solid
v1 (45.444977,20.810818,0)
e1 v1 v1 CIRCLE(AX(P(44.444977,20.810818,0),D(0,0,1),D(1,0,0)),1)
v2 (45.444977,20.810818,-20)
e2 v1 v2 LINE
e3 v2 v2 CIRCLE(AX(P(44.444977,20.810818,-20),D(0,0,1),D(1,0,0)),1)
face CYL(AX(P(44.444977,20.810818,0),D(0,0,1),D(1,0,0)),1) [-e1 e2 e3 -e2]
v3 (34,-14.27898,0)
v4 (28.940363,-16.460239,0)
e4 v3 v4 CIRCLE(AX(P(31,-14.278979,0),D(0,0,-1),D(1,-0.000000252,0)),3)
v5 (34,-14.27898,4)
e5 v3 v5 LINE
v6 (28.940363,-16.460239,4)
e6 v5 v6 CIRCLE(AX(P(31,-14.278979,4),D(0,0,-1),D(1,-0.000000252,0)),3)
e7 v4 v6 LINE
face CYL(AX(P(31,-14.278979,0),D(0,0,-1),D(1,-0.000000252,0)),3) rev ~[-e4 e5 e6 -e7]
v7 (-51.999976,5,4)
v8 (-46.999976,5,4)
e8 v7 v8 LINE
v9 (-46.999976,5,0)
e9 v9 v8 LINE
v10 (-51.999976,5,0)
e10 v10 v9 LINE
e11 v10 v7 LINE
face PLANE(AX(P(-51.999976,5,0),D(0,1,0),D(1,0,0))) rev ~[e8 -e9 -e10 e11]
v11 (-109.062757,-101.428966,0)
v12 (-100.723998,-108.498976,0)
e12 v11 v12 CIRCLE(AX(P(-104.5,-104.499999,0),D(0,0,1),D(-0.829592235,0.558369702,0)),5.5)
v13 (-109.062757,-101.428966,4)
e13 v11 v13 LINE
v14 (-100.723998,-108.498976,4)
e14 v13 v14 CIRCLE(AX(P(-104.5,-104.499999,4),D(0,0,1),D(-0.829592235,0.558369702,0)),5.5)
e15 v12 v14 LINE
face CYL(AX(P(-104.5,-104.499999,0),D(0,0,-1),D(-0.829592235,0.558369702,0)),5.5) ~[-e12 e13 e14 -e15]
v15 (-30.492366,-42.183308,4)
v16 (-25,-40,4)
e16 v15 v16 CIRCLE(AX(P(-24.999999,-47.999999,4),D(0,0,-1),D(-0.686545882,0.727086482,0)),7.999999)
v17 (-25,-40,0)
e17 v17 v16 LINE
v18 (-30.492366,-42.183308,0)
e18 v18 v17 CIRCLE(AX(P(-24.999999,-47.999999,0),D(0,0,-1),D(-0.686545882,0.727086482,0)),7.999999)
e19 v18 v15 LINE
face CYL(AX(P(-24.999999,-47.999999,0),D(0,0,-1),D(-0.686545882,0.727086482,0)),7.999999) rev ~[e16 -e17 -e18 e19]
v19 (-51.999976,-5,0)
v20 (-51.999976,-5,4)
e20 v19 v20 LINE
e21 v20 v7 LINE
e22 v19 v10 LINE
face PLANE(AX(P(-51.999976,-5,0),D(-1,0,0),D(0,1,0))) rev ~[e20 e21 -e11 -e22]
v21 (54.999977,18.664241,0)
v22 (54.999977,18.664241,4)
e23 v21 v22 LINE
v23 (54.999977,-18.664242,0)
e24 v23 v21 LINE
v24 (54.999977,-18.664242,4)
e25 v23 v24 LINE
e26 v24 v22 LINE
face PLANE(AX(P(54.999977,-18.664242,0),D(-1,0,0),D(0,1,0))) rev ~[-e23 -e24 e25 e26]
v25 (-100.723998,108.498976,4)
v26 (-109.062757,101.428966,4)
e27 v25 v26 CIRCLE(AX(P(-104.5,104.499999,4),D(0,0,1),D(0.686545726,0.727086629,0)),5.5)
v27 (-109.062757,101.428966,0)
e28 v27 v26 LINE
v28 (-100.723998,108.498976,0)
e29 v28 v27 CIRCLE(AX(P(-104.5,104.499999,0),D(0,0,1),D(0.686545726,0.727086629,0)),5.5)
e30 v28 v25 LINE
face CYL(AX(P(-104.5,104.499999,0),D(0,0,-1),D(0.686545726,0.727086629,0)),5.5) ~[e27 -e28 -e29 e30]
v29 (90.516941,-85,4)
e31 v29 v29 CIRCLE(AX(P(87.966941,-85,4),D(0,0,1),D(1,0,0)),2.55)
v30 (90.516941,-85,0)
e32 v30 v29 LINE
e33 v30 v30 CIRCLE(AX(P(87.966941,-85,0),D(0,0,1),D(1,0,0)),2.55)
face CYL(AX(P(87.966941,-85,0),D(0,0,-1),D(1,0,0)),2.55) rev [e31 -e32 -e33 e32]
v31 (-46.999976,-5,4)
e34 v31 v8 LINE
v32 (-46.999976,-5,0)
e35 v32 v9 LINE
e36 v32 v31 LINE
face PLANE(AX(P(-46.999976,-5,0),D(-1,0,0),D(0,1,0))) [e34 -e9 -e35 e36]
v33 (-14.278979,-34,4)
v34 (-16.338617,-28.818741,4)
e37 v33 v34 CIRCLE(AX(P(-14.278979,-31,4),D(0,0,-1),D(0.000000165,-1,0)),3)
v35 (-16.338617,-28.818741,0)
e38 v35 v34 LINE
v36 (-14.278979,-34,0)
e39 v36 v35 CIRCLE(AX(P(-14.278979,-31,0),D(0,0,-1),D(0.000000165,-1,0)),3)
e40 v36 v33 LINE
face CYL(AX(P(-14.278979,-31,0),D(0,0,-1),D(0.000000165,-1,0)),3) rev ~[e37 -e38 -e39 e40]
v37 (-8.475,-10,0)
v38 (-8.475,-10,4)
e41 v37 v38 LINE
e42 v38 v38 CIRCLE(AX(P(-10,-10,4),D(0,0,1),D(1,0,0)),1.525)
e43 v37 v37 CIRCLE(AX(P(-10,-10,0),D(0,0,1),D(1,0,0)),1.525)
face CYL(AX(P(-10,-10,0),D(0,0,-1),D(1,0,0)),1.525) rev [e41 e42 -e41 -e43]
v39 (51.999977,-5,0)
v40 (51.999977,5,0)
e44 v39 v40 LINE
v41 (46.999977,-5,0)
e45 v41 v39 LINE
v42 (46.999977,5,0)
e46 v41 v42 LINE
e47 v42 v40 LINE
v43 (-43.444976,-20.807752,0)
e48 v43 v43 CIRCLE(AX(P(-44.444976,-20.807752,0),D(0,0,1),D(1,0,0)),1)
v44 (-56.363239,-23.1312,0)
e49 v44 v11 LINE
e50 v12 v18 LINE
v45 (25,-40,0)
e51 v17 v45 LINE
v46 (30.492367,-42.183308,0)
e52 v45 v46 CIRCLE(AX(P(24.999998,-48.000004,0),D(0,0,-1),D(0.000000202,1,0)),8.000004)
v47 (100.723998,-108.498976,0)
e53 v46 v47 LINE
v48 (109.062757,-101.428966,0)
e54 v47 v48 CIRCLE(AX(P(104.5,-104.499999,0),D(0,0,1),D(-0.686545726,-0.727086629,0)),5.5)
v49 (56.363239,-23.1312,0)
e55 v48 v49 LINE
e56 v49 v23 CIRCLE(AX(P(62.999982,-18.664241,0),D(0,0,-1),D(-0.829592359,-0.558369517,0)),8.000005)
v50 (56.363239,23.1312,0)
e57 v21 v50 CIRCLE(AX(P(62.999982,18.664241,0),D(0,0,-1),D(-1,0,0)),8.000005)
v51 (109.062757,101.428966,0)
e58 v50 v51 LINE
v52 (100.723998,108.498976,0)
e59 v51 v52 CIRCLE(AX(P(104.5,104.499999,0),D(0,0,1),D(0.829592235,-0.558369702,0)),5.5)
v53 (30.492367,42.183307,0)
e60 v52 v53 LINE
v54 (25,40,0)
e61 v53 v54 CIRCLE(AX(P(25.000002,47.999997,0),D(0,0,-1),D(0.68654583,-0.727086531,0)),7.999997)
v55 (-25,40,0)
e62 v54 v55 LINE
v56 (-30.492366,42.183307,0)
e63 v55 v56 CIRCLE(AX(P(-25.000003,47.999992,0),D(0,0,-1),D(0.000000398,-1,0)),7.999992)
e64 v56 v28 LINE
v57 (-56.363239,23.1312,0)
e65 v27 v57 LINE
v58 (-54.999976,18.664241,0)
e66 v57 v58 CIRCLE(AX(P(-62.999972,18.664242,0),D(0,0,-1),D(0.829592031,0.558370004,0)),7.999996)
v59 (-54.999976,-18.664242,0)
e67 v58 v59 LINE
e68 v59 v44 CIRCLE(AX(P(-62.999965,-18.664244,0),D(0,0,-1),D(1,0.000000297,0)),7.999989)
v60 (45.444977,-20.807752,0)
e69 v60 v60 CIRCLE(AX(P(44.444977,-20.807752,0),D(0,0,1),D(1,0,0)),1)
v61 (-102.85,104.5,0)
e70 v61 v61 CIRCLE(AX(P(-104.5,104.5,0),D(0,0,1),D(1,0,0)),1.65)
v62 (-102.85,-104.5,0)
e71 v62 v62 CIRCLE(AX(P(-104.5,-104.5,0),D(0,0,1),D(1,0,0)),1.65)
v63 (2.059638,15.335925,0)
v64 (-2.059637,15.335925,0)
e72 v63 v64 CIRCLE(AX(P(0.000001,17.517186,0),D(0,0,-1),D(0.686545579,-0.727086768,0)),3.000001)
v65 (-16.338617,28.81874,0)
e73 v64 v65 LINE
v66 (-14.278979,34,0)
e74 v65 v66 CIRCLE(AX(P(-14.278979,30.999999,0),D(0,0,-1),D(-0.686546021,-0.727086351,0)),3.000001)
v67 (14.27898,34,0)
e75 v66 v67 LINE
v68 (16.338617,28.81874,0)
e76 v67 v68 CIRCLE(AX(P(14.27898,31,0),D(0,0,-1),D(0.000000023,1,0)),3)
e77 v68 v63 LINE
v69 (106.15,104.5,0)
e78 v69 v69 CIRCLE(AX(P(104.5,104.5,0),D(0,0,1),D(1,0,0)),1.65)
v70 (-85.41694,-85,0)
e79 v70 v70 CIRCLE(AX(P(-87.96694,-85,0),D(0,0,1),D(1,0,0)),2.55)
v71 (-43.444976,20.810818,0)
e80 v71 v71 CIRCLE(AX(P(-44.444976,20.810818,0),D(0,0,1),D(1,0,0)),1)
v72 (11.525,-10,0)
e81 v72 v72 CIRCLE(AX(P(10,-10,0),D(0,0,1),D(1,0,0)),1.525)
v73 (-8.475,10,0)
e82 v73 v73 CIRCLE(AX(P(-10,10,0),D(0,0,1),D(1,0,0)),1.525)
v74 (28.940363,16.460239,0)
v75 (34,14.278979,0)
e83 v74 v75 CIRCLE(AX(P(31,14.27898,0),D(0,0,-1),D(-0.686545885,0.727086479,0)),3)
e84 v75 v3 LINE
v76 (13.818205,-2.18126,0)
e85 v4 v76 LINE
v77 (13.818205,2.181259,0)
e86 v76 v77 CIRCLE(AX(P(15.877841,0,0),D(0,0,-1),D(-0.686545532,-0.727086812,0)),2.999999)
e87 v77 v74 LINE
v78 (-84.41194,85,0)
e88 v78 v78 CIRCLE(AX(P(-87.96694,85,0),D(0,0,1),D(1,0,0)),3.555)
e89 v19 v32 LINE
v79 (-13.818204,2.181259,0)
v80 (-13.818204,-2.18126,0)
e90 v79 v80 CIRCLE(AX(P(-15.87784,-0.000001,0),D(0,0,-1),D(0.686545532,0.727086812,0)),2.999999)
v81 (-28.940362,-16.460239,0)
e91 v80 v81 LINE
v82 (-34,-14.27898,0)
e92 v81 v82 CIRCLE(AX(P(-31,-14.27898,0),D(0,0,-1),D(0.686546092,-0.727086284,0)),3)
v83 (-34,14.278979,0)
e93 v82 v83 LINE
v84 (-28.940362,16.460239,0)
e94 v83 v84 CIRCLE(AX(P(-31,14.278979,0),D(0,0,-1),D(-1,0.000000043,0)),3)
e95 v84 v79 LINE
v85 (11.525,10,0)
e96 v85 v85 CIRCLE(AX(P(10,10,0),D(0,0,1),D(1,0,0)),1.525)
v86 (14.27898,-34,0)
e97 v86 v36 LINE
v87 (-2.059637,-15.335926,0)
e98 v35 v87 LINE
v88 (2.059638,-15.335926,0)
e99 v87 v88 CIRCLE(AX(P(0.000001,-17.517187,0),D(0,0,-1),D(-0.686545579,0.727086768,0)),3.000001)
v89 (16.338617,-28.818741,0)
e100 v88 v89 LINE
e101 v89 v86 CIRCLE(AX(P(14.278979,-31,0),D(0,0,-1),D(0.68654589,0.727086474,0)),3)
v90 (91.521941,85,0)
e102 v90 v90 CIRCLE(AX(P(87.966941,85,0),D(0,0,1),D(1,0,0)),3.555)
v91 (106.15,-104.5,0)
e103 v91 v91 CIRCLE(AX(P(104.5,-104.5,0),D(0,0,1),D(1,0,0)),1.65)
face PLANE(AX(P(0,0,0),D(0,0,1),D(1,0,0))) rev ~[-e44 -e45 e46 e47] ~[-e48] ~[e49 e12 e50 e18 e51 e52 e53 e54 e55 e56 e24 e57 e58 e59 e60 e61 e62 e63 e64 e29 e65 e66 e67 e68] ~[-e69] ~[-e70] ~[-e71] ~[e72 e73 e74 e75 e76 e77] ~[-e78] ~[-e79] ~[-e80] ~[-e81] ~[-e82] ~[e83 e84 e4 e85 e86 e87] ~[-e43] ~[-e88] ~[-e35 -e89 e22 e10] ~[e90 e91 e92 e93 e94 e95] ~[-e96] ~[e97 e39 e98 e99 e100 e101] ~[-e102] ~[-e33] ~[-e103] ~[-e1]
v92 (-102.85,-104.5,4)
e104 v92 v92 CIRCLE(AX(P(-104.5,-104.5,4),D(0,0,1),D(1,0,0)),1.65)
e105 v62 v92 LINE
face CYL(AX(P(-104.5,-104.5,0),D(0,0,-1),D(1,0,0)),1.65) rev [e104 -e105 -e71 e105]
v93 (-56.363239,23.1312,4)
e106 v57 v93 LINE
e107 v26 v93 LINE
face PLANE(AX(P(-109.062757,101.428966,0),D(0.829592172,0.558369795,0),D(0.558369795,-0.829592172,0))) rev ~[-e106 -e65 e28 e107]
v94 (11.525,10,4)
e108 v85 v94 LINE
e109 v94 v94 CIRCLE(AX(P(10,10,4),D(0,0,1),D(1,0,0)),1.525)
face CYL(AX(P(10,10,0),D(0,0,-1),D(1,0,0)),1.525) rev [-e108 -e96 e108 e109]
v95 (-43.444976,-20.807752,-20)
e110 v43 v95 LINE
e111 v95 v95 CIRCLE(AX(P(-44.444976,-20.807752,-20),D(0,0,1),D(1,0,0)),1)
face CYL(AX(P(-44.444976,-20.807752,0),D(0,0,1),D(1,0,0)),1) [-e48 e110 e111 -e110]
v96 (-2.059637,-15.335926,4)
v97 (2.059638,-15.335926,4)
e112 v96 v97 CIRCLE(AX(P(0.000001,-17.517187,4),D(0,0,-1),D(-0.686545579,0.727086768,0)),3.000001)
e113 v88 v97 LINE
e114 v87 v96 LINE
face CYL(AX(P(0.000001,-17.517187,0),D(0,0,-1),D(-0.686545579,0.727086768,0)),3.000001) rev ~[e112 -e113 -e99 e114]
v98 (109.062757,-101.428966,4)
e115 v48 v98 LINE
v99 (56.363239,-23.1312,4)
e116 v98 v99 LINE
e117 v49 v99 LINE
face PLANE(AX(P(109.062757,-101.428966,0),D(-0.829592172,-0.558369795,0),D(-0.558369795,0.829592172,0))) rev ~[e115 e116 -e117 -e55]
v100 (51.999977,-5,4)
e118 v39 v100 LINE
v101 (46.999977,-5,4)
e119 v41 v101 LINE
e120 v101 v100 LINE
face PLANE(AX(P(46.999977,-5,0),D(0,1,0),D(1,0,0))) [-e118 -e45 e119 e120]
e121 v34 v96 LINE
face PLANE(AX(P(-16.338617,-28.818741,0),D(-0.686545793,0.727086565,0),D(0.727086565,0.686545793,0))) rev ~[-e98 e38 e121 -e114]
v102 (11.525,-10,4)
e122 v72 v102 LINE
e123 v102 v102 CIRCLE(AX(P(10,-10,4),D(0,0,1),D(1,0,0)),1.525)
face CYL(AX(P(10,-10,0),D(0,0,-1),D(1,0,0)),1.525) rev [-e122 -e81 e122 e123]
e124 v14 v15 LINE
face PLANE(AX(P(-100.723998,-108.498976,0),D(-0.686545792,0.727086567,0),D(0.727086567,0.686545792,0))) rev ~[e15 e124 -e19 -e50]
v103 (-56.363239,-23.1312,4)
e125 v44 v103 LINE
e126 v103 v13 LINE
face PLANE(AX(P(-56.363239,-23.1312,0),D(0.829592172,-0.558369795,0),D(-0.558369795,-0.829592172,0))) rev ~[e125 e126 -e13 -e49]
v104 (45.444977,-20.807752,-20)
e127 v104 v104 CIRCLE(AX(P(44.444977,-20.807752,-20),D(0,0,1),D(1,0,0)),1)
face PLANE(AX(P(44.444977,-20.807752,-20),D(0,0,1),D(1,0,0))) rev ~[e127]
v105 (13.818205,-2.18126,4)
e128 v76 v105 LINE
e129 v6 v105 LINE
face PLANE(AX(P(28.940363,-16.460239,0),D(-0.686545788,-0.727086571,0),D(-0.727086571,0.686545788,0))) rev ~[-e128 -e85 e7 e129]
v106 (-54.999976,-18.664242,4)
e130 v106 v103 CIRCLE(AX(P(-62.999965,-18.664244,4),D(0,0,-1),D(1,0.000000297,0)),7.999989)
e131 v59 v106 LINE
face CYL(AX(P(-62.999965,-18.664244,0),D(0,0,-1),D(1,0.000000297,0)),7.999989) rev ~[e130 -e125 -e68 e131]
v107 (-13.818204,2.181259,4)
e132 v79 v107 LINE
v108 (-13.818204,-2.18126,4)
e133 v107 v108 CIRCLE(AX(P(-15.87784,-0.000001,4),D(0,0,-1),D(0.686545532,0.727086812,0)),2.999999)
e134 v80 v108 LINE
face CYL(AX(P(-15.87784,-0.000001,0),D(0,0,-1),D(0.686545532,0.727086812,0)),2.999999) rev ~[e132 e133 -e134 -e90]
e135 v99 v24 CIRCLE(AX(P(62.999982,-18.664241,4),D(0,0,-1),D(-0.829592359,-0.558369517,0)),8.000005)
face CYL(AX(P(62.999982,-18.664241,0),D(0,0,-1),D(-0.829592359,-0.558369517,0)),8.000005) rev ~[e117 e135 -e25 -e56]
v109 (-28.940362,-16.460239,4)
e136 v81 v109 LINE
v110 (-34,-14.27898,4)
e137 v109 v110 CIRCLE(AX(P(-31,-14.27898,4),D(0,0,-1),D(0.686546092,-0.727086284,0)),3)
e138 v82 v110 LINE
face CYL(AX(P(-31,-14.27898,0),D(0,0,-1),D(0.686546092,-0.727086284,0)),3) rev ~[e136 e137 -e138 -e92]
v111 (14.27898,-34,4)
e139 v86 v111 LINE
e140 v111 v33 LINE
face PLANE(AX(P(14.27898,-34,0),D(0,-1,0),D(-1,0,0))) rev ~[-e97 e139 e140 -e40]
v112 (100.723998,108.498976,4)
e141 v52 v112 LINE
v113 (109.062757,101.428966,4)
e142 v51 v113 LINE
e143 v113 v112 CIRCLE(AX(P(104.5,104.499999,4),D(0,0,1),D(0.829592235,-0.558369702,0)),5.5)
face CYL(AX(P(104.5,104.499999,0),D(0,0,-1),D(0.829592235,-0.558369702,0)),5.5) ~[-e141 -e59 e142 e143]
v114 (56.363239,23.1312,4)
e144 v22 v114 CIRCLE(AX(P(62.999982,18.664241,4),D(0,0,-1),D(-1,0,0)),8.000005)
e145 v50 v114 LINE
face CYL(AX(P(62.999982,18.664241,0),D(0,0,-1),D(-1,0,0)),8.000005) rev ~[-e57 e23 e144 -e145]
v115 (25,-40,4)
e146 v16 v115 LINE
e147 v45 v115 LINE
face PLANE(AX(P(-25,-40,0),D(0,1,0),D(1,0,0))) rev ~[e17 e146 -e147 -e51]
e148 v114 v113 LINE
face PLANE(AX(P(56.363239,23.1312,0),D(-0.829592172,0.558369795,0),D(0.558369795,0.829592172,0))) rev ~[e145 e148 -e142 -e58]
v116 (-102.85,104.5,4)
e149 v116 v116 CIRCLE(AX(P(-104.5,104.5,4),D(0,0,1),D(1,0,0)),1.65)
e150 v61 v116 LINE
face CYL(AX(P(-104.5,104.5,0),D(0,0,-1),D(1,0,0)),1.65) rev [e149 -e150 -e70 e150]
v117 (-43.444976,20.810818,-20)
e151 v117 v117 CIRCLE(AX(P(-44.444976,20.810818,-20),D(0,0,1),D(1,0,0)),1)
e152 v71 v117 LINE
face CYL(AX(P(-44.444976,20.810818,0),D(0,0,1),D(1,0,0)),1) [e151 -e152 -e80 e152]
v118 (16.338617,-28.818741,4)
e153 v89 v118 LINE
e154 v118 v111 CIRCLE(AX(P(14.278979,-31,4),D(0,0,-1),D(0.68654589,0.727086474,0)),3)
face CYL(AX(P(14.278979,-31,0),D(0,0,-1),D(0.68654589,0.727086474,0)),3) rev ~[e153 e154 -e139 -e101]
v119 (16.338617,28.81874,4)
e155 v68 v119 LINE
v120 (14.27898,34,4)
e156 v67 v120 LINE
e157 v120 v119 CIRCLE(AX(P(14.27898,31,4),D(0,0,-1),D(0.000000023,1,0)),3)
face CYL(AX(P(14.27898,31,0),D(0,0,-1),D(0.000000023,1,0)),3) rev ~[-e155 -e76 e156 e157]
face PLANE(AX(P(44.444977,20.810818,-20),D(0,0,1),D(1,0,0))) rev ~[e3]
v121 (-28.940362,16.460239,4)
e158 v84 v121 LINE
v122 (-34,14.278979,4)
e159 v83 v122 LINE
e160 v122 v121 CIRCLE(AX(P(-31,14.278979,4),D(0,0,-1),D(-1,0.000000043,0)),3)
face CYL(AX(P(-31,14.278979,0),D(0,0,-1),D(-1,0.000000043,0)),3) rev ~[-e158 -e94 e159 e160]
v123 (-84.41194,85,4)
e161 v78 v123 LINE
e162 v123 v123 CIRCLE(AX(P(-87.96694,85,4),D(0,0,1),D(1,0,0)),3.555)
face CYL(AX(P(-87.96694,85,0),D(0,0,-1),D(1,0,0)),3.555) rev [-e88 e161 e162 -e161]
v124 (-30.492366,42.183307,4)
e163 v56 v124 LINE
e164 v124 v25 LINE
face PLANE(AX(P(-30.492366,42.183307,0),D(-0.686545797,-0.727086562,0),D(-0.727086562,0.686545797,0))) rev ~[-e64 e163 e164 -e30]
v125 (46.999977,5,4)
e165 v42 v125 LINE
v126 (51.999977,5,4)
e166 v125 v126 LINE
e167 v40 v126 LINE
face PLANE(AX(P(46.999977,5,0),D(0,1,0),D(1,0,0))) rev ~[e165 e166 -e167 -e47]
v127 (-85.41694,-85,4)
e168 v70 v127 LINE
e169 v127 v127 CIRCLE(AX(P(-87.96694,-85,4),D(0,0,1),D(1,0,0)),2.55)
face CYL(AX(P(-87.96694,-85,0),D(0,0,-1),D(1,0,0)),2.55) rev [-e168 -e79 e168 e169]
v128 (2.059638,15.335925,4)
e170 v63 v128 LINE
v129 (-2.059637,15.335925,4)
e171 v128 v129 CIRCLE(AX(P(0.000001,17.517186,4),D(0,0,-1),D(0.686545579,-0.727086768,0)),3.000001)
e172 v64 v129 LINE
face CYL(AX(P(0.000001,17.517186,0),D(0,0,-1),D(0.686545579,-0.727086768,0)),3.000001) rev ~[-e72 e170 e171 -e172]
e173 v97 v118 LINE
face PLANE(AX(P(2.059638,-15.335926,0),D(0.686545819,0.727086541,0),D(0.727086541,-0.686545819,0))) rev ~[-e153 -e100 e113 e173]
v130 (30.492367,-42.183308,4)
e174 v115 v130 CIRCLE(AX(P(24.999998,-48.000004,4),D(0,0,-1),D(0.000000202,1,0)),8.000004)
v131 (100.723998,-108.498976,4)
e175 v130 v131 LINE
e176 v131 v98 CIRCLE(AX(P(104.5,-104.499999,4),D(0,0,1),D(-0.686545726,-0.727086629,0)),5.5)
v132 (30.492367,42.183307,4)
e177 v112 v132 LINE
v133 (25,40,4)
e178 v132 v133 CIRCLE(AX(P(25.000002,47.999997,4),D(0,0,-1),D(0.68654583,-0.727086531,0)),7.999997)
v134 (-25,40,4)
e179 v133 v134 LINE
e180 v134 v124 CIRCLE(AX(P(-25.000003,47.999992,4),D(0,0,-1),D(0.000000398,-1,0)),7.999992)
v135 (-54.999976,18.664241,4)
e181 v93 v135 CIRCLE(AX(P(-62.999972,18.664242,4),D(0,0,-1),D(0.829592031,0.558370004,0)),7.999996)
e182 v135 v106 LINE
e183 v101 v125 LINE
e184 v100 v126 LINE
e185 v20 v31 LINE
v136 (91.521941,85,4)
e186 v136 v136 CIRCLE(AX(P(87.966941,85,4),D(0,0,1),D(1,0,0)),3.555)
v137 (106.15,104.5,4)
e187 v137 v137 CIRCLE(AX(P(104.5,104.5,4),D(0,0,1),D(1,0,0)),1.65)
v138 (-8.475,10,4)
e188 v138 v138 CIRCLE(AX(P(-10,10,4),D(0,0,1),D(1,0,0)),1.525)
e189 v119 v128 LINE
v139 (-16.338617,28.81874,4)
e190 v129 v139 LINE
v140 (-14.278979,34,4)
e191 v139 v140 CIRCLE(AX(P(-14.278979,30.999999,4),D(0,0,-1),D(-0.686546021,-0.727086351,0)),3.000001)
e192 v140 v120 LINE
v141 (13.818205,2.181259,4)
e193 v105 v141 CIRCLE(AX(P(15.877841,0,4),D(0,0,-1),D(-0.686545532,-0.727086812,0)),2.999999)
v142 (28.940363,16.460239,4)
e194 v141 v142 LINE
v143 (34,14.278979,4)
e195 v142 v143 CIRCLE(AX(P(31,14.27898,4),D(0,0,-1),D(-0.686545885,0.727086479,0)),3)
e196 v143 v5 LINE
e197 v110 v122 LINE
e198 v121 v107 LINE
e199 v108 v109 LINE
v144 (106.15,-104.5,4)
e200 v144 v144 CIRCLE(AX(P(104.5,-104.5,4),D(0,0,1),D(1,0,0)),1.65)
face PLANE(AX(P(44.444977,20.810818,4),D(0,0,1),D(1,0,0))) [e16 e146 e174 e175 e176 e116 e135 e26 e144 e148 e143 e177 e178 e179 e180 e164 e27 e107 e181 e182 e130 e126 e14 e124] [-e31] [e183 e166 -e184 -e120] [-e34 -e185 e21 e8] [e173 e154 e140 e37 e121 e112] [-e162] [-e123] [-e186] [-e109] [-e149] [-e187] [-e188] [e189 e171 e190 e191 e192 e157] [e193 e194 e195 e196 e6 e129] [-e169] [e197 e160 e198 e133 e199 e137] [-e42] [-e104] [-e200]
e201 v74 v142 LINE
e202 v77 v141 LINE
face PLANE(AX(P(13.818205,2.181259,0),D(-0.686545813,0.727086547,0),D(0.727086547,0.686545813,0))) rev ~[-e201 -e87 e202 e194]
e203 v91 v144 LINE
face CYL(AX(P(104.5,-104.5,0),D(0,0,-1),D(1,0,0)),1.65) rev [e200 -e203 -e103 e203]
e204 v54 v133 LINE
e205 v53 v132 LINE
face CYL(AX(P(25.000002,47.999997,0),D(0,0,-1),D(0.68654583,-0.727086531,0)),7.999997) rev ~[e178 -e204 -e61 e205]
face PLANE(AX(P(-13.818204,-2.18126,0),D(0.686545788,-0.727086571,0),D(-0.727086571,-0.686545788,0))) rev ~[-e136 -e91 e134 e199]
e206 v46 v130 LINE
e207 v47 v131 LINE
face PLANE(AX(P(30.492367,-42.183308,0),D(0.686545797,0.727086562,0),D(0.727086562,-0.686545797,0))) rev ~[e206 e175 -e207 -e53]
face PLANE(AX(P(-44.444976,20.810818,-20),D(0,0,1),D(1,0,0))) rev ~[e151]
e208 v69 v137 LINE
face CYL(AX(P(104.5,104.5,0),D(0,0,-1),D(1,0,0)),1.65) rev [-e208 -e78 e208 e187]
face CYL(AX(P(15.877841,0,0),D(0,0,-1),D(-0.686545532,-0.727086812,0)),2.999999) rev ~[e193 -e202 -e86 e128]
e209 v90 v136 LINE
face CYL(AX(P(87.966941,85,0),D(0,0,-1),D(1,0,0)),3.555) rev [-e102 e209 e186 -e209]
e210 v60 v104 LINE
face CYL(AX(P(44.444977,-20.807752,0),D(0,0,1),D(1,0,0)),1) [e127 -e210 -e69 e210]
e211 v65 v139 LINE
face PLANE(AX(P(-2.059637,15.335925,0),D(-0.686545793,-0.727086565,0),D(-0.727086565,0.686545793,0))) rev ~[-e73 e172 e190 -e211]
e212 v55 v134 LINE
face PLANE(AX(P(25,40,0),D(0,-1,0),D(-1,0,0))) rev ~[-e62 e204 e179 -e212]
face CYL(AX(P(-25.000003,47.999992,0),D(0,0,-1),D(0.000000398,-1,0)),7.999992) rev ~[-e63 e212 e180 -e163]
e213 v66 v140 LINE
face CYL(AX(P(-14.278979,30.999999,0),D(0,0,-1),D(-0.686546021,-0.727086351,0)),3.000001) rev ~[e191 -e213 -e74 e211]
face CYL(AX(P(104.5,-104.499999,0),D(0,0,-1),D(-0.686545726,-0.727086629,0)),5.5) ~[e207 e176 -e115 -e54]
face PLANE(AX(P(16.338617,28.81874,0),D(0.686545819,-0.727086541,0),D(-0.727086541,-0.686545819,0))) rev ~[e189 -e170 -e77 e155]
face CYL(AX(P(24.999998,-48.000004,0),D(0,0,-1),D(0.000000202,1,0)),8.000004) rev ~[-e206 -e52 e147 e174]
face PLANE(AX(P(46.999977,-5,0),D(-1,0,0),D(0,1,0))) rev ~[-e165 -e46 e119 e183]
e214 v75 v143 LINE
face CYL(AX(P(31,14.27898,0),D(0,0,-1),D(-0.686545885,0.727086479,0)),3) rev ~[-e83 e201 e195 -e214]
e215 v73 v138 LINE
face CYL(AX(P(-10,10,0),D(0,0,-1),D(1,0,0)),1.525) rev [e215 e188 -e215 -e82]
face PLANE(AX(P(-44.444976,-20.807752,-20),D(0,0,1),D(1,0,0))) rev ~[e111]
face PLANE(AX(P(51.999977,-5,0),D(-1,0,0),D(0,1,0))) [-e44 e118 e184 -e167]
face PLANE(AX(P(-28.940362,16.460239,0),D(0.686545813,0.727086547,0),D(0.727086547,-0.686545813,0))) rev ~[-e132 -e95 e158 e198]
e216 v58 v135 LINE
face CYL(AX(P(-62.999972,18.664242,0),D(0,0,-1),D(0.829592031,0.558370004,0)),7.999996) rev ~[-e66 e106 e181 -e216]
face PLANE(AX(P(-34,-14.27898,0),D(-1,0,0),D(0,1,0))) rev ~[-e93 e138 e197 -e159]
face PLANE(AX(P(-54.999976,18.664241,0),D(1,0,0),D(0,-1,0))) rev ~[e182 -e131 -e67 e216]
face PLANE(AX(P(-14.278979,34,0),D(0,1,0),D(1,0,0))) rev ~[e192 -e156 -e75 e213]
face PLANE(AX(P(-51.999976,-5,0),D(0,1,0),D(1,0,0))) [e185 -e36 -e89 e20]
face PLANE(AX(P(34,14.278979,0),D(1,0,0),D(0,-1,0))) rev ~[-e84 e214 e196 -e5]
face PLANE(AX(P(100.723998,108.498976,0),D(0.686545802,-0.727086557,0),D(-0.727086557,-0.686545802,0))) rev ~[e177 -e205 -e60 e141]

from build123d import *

# Parameters (mm, degrees)
F0_R     = 1.65
F0_R_2   = 2.55
F0_R_3   = 1.525
F0_W     = 5
F0_H     = 10
F0_R_4   = 3.555
F1_DEPTH = 4
F2_R     = 1
F3_DEPTH = 20
F4_R     = 3.555
F4_R_2   = 2.55
F5_DEPTH = 4


with BuildPart() as f1:
    # F0 (on Top) → F1 (new body)
    with BuildSketch(Plane.XY):
        with BuildLine():
            ThreePointArc((-56.363239, 23.1312), (-55.348378, 20.999418), (-54.999976, 18.664241))
            Line((-54.999976, 18.664241), (-54.999976, -18.664242))
            ThreePointArc((-54.999976, -18.664242), (-55.348378, -20.999419), (-56.363239, -23.1312))
            Line((-56.363239, -23.1312), (-109.062757, -101.428966))
            ThreePointArc((-109.062757, -101.428966), (-108.056825, -108.695115), (-100.723998, -108.498976))
            Line((-100.723998, -108.498976), (-30.492366, -42.183308))
            ThreePointArc((-30.492366, -42.183308), (-27.955204, -40.565838), (-25, -40))
            Line((-25, -40), (25, -40))
            ThreePointArc((25, -40), (27.955204, -40.565838), (30.492367, -42.183308))
            Line((30.492367, -42.183308), (100.723998, -108.498976))
            ThreePointArc((100.723998, -108.498976), (108.056825, -108.695115), (109.062757, -101.428966))
            Line((109.062757, -101.428966), (56.363239, -23.1312))
            ThreePointArc((56.363239, -23.1312), (55.348379, -20.999418), (54.999977, -18.664242))
            Line((54.999977, -18.664242), (54.999977, 18.664241))
            ThreePointArc((54.999977, 18.664241), (55.348379, 20.999418), (56.363239, 23.1312))
            Line((56.363239, 23.1312), (109.062757, 101.428966))
            ThreePointArc((109.062757, 101.428966), (108.056825, 108.695115), (100.723998, 108.498976))
            Line((100.723998, 108.498976), (30.492367, 42.183307))
            ThreePointArc((30.492367, 42.183307), (27.955204, 40.565837), (25, 40))
            Line((25, 40), (-25, 40))
            ThreePointArc((-25, 40), (-27.955204, 40.565837), (-30.492366, 42.183307))
            Line((-30.492366, 42.183307), (-100.723998, 108.498976))
            ThreePointArc((-100.723998, 108.498976), (-108.056825, 108.695115), (-109.062757, 101.428966))
            Line((-109.062757, 101.428966), (-56.363239, 23.1312))
        make_face()
        with Locations((-104.5, -104.5)):
            Circle(F0_R, mode=Mode.SUBTRACT)
        with Locations((-87.96694, -85)):
            Circle(F0_R_2, mode=Mode.SUBTRACT)
        with Locations((-44.444976, -20.807752)):
            Circle(F0_R_2, mode=Mode.SUBTRACT)
        with BuildLine():
            ThreePointArc((-34, 14.278979), (-32.187663, 17.033876), (-28.940362, 16.460239))
            Line((-28.940362, 16.460239), (-13.818204, 2.181259))
            ThreePointArc((-13.818204, 2.181259), (-12.877841, -1e-06), (-13.818204, -2.18126))
            Line((-13.818204, -2.18126), (-28.940362, -16.460239))
            ThreePointArc((-28.940362, -16.460239), (-32.187663, -17.033877), (-34, -14.27898))
            Line((-34, -14.27898), (-34, 14.278979))
        make_face(mode=Mode.SUBTRACT)
        with Locations((-10, -10)):
            Circle(F0_R_3, mode=Mode.SUBTRACT)
        with Locations((104.5, -104.5)):
            Circle(F0_R, mode=Mode.SUBTRACT)
        with Locations((87.966941, -85)):
            Circle(F0_R_2, mode=Mode.SUBTRACT)
        with BuildLine():
            ThreePointArc((-14.278979, -34), (-17.06679, -32.108202), (-16.338617, -28.818741))
            Line((-16.338617, -28.818741), (-2.059637, -15.335926))
            ThreePointArc((-2.059637, -15.335926), (0, -14.517186), (2.059638, -15.335926))
            Line((2.059638, -15.335926), (16.338617, -28.818741))
            ThreePointArc((16.338617, -28.818741), (17.06679, -32.108202), (14.27898, -34))
            Line((14.27898, -34), (-14.278979, -34))
        make_face(mode=Mode.SUBTRACT)
        with Locations((10, -10)):
            Circle(F0_R_3, mode=Mode.SUBTRACT)
        with Locations((44.444977, -20.807752)):
            Circle(F0_R_2, mode=Mode.SUBTRACT)
        with Locations((-49.499976, 0)):
            Rectangle(F0_W, F0_H, mode=Mode.SUBTRACT)
        with Locations((-44.444976, 20.810818)):
            Circle(F0_R_4, mode=Mode.SUBTRACT)
        with Locations((-10, 10)):
            Circle(F0_R_3, mode=Mode.SUBTRACT)
        with Locations((-87.96694, 85)):
            Circle(F0_R_4, mode=Mode.SUBTRACT)
        with Locations((-104.5, 104.5)):
            Circle(F0_R, mode=Mode.SUBTRACT)
        with Locations((10, 10)):
            Circle(F0_R_3, mode=Mode.SUBTRACT)
        with BuildLine():
            ThreePointArc((28.940363, 16.460239), (32.187664, 17.033876), (34, 14.278979))
            Line((34, 14.278979), (34, -14.27898))
            ThreePointArc((34, -14.27898), (32.187663, -17.033876), (28.940363, -16.460239))
            Line((28.940363, -16.460239), (13.818205, -2.18126))
            ThreePointArc((13.818205, -2.18126), (12.877842, 0), (13.818205, 2.181259))
            Line((13.818205, 2.181259), (28.940363, 16.460239))
        make_face(mode=Mode.SUBTRACT)
        with BuildLine():
            ThreePointArc((14.27898, 34), (17.066791, 32.108201), (16.338617, 28.81874))
            Line((16.338617, 28.81874), (2.059638, 15.335925))
            ThreePointArc((2.059638, 15.335925), (0, 14.517185), (-2.059637, 15.335925))
            Line((-2.059637, 15.335925), (-16.338617, 28.81874))
            ThreePointArc((-16.338617, 28.81874), (-17.06679, 32.108201), (-14.278979, 34))
            Line((-14.278979, 34), (14.27898, 34))
        make_face(mode=Mode.SUBTRACT)
        with Locations((49.499977, 0)):
            Rectangle(F0_W, F0_H, mode=Mode.SUBTRACT)
        with Locations((44.444977, 20.810818)):
            Circle(F0_R_4, mode=Mode.SUBTRACT)
        with Locations((87.966941, 85)):
            Circle(F0_R_4, mode=Mode.SUBTRACT)
        with Locations((104.5, 104.5)):
            Circle(F0_R, mode=Mode.SUBTRACT)
    extrude(amount=F1_DEPTH)



with BuildPart() as f3:
    # F2 (on Top) → F3 (new body)
    with BuildSketch(Plane.XY):
        with Locations((-44.444976, 20.810818)):
            Circle(F2_R)
        with Locations((-44.444976, -20.807752)):
            Circle(F2_R)
        with Locations((44.444977, 20.810818)):
            Circle(F2_R)
        with Locations((44.444977, -20.807752)):
            Circle(F2_R)
    extrude(amount=-F3_DEPTH)


with BuildPart() as f1_1:
    add(f1.part)

    add(f3.part)  # F5 merges F3
    # F4 (on face) → F5 (join)
    with BuildSketch(Plane.XY.offset(4)):
        with Locations((44.444977, 20.810818)):
            Circle(F4_R)
        with Locations((44.444977, -20.807752)):
            Circle(F4_R_2)
        with Locations((-44.444976, -20.807752)):
            Circle(F4_R_2)
        with Locations((-44.444976, 20.810818)):
            Circle(F4_R)
    extrude(amount=-F5_DEPTH)


solid = f1_1.part
